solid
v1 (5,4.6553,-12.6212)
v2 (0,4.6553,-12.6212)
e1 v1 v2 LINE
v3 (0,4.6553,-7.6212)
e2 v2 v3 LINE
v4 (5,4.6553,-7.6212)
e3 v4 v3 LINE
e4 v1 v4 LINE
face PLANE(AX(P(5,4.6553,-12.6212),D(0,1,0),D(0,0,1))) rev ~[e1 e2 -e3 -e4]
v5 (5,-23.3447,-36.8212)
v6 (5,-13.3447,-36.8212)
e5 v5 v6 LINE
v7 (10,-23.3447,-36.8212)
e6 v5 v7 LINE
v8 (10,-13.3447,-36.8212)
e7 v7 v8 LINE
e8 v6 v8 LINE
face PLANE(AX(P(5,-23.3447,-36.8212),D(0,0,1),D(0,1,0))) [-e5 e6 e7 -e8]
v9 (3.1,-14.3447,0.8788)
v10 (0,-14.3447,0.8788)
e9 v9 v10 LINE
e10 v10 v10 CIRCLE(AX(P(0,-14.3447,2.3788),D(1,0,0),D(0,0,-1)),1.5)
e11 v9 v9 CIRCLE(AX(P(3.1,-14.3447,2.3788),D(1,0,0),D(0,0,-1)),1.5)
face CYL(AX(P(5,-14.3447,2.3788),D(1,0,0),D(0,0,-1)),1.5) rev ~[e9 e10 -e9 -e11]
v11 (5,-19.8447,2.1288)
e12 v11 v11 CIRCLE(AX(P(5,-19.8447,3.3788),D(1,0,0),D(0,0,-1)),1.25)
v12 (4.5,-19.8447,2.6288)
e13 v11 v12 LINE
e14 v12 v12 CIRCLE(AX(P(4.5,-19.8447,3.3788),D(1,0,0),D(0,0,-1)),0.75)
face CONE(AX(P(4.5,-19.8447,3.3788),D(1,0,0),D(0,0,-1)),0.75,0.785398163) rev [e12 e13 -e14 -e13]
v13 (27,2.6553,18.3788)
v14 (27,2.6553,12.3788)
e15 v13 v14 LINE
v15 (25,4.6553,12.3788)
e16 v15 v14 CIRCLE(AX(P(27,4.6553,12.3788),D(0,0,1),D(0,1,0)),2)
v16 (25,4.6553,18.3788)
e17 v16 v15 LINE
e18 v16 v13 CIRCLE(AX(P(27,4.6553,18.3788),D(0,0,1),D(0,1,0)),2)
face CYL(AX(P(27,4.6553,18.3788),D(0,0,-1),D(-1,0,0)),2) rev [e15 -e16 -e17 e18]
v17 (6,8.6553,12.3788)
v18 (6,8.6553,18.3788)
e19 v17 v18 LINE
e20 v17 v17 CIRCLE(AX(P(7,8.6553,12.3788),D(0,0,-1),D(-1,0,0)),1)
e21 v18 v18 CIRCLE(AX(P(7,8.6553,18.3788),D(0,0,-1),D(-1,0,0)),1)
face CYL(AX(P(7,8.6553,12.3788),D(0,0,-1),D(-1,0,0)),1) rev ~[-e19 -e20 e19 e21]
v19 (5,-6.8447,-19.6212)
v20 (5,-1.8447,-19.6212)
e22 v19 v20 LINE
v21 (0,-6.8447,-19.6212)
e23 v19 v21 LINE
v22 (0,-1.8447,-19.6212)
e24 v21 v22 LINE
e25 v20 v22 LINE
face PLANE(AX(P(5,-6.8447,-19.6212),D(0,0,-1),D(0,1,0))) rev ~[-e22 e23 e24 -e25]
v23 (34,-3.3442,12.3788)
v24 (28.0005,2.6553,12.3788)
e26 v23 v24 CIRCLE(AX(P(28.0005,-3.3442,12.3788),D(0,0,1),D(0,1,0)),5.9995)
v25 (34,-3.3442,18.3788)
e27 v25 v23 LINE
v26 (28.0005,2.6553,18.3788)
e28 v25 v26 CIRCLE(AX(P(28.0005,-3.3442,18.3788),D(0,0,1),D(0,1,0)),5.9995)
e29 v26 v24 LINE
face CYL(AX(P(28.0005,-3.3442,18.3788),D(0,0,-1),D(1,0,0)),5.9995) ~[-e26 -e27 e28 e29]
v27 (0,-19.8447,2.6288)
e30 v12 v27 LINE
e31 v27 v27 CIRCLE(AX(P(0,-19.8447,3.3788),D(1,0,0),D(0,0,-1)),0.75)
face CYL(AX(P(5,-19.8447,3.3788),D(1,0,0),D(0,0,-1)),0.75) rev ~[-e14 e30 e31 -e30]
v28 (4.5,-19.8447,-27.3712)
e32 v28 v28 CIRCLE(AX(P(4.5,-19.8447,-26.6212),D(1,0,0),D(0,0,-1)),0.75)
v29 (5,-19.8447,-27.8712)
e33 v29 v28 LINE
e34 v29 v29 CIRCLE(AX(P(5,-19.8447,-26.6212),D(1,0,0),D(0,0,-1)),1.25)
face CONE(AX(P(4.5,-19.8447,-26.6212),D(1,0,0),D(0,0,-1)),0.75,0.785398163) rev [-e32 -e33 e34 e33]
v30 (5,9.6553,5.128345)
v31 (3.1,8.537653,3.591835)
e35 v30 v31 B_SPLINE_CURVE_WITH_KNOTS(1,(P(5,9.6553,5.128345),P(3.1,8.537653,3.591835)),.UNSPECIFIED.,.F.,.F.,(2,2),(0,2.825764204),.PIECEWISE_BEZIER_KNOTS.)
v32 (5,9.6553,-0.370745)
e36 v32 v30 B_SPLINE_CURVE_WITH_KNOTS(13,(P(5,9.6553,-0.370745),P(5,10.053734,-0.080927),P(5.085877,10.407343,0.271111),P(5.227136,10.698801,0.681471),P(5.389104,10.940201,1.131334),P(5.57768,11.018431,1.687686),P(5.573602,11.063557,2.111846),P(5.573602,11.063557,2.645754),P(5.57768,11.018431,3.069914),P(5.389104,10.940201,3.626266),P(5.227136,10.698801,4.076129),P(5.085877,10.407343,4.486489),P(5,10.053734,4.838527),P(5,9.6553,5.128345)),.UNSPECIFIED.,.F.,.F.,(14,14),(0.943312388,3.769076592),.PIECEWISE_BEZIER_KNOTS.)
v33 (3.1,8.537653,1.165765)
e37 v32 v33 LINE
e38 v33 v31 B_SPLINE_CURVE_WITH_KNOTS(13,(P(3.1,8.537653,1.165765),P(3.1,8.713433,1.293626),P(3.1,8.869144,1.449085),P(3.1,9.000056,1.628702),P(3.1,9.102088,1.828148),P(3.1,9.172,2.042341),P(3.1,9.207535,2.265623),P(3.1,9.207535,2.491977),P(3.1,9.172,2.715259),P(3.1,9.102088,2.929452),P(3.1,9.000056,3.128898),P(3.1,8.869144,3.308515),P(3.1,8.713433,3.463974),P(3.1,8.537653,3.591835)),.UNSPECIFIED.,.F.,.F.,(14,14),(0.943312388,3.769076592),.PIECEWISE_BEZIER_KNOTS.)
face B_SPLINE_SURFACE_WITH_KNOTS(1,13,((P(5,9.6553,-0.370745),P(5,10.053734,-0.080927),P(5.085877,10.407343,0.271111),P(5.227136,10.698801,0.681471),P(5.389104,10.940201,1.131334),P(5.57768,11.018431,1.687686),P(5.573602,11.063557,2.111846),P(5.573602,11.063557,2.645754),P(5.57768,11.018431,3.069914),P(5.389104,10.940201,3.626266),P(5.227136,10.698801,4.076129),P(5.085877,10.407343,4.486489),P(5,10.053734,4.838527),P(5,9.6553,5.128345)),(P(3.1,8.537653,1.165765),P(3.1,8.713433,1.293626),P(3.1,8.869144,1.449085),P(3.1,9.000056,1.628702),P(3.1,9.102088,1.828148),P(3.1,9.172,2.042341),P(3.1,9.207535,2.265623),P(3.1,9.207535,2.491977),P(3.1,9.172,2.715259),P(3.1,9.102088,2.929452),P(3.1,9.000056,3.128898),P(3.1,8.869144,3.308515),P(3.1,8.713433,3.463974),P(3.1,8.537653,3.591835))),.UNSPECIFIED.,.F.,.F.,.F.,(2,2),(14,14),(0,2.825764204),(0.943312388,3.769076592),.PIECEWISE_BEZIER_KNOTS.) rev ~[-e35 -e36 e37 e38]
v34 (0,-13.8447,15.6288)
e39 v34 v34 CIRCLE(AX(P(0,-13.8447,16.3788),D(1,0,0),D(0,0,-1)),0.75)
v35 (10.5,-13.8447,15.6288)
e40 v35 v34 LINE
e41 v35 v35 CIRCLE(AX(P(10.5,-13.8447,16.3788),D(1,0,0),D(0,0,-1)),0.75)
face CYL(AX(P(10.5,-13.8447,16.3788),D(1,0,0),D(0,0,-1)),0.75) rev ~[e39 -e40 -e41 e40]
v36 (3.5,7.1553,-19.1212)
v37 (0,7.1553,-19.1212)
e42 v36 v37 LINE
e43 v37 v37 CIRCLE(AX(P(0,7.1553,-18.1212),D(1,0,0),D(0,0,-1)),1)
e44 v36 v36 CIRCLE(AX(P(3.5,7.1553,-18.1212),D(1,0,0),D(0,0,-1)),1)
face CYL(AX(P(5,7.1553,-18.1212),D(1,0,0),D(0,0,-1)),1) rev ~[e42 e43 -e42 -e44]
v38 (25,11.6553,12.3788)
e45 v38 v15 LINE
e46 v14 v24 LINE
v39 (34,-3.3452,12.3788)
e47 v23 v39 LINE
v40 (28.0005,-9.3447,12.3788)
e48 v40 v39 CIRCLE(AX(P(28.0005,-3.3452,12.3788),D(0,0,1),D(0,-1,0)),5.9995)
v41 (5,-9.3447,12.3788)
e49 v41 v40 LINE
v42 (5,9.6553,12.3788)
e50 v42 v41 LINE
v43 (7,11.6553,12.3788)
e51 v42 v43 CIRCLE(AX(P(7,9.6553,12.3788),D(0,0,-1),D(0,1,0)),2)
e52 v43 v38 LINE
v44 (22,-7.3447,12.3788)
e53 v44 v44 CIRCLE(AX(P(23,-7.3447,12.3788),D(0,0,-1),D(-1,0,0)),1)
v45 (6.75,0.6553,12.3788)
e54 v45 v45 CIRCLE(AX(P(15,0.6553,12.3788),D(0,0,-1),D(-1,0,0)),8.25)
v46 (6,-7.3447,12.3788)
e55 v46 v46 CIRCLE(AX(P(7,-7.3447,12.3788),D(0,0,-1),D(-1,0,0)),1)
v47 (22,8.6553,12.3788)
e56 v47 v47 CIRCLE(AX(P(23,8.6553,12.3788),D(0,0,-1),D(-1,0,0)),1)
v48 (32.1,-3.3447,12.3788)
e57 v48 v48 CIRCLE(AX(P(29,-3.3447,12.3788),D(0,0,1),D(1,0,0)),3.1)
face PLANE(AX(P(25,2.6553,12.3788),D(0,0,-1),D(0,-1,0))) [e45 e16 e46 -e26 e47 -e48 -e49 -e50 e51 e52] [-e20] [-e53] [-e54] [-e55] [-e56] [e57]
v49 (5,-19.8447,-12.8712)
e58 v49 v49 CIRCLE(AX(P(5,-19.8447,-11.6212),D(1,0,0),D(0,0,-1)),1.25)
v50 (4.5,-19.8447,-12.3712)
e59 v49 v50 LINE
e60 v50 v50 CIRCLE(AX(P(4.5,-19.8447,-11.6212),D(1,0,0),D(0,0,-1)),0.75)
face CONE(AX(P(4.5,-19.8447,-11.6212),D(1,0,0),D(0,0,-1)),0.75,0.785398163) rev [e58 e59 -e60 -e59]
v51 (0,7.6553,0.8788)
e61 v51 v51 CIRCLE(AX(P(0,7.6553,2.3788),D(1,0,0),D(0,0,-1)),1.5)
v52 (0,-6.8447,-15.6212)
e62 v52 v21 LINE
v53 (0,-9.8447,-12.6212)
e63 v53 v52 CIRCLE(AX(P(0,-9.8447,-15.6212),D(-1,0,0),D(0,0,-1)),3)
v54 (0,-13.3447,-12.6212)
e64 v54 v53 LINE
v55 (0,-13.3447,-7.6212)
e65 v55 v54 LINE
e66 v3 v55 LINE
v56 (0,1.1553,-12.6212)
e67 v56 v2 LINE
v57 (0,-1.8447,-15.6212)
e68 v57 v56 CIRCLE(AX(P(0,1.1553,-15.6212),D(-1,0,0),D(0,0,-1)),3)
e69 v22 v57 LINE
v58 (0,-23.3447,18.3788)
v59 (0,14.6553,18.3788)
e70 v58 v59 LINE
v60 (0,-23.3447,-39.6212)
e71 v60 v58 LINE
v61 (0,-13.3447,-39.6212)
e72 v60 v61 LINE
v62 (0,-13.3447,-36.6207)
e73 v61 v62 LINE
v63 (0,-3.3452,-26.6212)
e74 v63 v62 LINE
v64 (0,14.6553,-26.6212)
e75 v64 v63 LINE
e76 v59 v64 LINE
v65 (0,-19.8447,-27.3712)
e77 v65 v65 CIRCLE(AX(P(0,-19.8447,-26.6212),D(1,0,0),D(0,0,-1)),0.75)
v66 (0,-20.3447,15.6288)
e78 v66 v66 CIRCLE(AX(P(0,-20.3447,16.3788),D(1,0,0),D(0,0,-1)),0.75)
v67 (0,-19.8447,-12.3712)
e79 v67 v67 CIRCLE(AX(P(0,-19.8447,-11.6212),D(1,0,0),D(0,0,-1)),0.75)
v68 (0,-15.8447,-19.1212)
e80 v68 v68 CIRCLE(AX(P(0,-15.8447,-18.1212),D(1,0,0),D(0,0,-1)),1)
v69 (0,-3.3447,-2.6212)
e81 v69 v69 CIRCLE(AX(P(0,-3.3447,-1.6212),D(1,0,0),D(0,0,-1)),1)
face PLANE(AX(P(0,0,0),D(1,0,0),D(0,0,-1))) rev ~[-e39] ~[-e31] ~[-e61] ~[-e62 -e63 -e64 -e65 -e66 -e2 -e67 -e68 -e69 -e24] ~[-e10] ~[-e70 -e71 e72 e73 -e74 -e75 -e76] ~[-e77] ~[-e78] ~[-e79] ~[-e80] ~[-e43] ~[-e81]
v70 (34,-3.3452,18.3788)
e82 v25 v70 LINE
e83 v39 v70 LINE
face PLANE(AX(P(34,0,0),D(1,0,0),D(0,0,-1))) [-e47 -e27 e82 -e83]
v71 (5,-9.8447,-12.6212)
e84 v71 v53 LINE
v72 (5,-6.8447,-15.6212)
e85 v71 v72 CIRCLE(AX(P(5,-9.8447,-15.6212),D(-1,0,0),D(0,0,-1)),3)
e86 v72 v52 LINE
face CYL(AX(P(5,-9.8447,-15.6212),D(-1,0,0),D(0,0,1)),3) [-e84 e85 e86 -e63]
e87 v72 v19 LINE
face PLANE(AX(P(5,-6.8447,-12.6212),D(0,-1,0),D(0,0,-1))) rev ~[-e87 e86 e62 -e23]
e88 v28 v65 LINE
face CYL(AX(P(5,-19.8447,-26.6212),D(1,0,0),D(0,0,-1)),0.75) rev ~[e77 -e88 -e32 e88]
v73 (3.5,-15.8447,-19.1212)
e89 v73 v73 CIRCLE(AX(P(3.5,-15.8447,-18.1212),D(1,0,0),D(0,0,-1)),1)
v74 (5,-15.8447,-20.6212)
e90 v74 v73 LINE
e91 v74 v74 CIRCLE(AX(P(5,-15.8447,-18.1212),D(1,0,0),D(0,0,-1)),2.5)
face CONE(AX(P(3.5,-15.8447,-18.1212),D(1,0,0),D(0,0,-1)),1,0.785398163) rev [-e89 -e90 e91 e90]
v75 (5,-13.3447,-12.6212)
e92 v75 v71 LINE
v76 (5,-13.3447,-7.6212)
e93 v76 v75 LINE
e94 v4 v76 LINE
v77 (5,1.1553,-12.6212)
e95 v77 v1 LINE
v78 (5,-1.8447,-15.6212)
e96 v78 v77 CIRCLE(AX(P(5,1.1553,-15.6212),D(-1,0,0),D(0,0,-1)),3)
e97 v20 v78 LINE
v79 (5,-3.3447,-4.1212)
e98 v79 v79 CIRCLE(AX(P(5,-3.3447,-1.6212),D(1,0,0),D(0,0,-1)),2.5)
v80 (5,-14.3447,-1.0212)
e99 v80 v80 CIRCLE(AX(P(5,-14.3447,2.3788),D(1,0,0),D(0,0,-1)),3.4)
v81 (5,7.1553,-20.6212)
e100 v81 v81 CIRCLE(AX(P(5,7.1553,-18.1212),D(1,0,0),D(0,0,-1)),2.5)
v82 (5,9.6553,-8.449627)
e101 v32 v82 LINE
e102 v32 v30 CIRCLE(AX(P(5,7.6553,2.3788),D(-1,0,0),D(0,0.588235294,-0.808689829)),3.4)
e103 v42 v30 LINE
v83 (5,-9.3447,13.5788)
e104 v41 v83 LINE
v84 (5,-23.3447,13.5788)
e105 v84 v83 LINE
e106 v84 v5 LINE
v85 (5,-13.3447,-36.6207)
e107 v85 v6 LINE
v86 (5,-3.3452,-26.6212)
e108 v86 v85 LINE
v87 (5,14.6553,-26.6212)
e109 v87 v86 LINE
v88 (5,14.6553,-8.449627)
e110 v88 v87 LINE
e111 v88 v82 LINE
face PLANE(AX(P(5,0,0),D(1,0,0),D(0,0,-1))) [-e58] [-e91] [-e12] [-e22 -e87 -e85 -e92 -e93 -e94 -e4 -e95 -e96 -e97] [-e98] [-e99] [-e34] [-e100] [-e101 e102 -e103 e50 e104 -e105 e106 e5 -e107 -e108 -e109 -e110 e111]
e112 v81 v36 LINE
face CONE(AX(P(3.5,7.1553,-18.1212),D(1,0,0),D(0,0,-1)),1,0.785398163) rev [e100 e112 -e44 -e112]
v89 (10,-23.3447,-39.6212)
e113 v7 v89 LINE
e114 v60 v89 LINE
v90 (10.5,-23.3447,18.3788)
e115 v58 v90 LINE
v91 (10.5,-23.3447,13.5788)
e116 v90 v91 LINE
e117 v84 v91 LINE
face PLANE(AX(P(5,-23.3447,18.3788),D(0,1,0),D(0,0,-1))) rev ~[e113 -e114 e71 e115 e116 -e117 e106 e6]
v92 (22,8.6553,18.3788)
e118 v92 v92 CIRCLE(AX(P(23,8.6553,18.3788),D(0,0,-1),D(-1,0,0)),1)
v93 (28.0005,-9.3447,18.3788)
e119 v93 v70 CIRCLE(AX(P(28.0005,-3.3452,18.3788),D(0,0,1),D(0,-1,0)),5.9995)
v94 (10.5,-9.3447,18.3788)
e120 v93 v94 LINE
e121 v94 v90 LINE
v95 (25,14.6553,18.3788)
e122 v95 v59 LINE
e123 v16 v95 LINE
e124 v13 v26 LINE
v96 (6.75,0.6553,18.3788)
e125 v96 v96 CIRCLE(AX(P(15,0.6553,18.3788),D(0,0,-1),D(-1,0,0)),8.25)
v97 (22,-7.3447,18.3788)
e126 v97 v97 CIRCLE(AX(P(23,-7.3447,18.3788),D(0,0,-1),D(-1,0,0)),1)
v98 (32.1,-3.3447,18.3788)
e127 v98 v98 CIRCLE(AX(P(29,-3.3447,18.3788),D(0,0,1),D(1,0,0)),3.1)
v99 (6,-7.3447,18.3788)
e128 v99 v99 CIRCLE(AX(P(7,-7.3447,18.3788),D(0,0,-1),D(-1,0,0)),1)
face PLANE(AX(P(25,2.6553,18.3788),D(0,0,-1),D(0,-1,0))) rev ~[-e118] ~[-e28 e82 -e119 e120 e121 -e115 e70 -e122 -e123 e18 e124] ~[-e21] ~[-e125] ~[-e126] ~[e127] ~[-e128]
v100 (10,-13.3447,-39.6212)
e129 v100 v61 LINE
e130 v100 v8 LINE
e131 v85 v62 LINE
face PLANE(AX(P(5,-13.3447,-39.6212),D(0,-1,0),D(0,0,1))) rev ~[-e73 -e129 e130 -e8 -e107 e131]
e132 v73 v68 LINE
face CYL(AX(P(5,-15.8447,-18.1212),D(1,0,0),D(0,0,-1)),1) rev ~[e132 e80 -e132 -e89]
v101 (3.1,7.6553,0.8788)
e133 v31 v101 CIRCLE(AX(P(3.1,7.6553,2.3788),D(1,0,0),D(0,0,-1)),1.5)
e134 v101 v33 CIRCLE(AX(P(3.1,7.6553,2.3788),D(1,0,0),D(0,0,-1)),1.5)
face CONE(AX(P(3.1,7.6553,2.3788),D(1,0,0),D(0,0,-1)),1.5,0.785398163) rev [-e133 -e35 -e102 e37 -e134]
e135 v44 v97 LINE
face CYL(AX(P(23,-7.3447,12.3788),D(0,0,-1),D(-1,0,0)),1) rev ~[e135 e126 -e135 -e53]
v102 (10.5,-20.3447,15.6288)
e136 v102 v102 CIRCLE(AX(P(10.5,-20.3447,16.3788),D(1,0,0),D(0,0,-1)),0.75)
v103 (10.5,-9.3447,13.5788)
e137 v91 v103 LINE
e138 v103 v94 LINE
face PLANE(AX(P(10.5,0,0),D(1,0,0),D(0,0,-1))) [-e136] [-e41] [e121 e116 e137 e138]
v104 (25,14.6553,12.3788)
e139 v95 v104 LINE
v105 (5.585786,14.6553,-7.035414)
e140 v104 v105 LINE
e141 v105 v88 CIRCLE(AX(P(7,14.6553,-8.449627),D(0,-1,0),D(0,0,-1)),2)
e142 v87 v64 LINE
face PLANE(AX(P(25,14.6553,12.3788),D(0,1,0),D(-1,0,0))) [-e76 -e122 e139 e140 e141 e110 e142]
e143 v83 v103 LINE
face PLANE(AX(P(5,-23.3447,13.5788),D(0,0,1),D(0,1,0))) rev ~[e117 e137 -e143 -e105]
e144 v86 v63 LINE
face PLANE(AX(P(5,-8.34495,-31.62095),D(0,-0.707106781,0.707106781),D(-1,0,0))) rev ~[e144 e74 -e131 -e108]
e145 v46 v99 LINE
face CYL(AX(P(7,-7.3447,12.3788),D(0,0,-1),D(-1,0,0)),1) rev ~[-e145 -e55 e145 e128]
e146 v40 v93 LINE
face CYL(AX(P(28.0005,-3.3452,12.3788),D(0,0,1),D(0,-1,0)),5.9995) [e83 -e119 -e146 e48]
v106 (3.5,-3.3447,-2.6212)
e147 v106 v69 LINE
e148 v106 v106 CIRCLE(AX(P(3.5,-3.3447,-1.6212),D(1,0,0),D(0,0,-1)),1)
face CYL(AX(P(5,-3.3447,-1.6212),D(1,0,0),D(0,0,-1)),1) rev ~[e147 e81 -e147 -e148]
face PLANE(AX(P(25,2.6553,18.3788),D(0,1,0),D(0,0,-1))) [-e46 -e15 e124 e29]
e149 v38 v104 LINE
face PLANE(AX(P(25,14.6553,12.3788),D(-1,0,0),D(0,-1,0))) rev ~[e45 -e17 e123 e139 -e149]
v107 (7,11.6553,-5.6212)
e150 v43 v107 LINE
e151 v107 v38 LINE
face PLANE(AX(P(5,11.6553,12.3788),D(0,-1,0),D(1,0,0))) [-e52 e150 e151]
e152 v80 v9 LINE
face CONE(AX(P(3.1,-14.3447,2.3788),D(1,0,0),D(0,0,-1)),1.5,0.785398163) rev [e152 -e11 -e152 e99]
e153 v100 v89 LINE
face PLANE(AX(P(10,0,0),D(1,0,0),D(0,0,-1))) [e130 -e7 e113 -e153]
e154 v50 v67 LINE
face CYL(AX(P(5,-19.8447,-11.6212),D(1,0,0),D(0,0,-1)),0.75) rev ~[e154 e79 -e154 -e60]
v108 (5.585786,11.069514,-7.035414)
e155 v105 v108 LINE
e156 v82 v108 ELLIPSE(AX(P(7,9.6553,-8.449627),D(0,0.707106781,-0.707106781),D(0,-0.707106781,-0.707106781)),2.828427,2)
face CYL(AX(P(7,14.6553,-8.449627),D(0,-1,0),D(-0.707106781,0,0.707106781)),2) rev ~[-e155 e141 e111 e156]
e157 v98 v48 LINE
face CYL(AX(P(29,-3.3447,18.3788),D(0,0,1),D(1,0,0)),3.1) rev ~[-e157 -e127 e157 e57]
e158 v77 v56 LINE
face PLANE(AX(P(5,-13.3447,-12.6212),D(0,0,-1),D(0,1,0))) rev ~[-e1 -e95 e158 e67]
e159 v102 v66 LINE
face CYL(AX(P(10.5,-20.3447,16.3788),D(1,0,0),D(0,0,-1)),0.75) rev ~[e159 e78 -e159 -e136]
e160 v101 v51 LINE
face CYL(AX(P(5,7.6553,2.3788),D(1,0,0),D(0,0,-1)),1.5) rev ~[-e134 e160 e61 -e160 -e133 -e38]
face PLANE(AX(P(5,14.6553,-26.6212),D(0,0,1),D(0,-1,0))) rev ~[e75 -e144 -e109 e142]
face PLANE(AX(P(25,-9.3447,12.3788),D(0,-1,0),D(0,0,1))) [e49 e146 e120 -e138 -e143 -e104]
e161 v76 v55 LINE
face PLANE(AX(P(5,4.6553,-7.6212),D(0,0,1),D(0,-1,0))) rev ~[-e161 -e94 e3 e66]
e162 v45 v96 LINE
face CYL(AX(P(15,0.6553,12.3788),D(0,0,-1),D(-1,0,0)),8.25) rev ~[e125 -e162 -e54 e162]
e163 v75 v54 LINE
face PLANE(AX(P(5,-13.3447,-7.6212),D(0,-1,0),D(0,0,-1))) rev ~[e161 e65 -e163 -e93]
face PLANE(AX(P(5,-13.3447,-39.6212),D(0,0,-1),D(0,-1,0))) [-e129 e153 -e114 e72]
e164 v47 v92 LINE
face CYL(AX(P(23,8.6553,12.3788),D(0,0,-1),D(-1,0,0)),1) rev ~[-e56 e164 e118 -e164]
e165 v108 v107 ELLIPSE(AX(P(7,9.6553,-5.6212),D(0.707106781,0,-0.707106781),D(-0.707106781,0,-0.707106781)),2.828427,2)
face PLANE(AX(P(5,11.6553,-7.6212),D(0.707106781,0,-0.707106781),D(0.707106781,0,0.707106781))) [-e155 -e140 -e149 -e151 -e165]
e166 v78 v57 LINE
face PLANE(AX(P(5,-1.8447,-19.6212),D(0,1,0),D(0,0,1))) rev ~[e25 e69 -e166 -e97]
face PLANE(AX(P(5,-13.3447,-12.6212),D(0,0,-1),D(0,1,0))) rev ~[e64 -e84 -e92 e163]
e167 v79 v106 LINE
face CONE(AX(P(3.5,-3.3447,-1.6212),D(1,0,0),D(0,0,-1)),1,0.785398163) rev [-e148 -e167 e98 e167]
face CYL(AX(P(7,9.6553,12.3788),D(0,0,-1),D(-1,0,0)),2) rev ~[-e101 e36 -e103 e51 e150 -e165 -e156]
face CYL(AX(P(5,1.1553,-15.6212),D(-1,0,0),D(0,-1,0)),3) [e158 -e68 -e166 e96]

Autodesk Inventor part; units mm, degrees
ref_plane "YZ Plane" through (0, 0, 0) normal (1, 0, 0) x (0, 1, 0)
ref_plane "XZ Plane" through (0, 0, 0) normal (0, 1, 0) x (-1, 0, 0)
ref_plane "XY Plane" through (0, 0, 0) normal (0, 0, 1) x (1, 0, 0)
sketch "Sketch1" plane through (0, 0, 0) normal (1, 0, 0) x (0, 1, 0)
  line L0 (-23.3447, 18.3788) -> (14.6553, 18.3788)
  line L1 (14.6553, 18.3788) -> (14.6553, -36.6212)
  line L2 (14.6553, -36.6212) -> (-23.3447, -36.6212)
  line L3 (-23.3447, -36.6212) -> (-23.3447, 18.3788)
  point P0 (0, 0)
  dimension "d0" = 38
  dimension "d1" = 55
extrude "Extrusion1" add sketch "Sketch1" along normal blind 5
sketch "Sketch2" plane through (5, 0, 0) normal (1, 0, 0) x (0, 0, -1)
  line L0 (36.6212, 14.6553) -> (-18.3788, 14.6553) projected
  line L1 (-18.3788, 14.6553) -> (-12.3788, 14.6553)
  line L2 (-12.3788, 14.6553) -> (-12.3788, -9.3447)
  line L3 (-12.3788, -9.3447) -> (-18.3788, -9.3447)
  line L4 (-18.3788, -9.3447) -> (-18.3788, 14.6553)
  point P0 (0, 0)
  dimension "d4" = 24
  dimension "d5" = 6
extrude "Extrusion2" add sketch "Sketch2" along normal blind 20
sketch "Sketch3" plane through (5, -9.3447, 12.3788) normal (0, 0, -1) x (-1, 0, 0)
  circle A0 centre (-10, 10) radius 8.25
  line L0 (-20, 0) -> (-20, 24) projected
  line L1 (0, 0) -> (-20, 0) projected
  circle A1 centre (-18, 2) radius 1
  circle A2 centre (-18, 18) radius 1
  circle A3 centre (-2, 2) radius 1
  circle A4 centre (-2, 18) radius 1
  point P0 (5, 9.3447)
  dimension "d8" = 16.5
  dimension "d9" = 10
  dimension "d10" = 10
  dimension "d11" = 2
  dimension "d12" = 2
  dimension "d13" = 2
  dimension "d14" = 2
  dimension "d15" = 8
  dimension "d16" = 8
  dimension "d17" = 8
  dimension "d18" = 8
  dimension "d19" = 8
  dimension "d20" = 8
  dimension "d21" = 8
  dimension "d22" = 8
extrude "Extrusion3" cut sketch "Sketch3" against normal through all
sketch "Sketch4" plane through (5, -9.3447, 12.3788) normal (0, 0, -1) x (-1, 0, 0)
  line L0 (-20, 24) -> (-20, 0) projected
  line L1 (0, 24) -> (0, 0) projected
  line L2 (-20, 24) -> (0, 24)
  line L3 (0, 24) -> (0, 21)
  line L4 (0, 21) -> (-20, 21)
  line L5 (-20, 21) -> (-20, 24)
  point P0 (5, 9.3447)
  dimension "d25" = 3
extrude "Extrusion4" add sketch "Sketch4" along normal blind 20
sketch "Sketch5" plane through (5, 11.6553, 12.3788) normal (0, -1, 0) x (1, 0, 0)
  line L0 (0, -20) -> (0, 0) projected
  line L1 (20, 6) -> (20, 0) projected
  line L2 (0, -20) -> (20, 0)
  line L3 (20, 0) -> (20, -20)
  line L4 (20, -20) -> (0, -20) projected
  line L5 (20, -20) -> (0, -20)
  point P0 (-5, -12.3788)
extrude "Extrusion5" cut sketch "Sketch5" against normal through all
fillet "Fillet1" radius 2 2 edges at (5, 11.6553, 2.3788) (5, 13.1553, -7.6212)
sketch "Sketch6" plane through (5, 0, 0) normal (1, 0, 0) x (0, 0, -1)
  circle A0 centre (1.6212, -3.3447) radius 1
  line L0 (36.6212, 14.6553) -> (8.4496, 14.6553) projected
  line L1 (36.6212, -23.3447) -> (36.6212, 14.6553) projected
  point P0 (0, 0)
  dimension "d31" = 2
  dimension "d32" = 18
  dimension "d33" = 35
extrude "Extrusion6" cut sketch "Sketch6" against normal through all
sketch "Sketch7" plane through (5, 0, 0) normal (1, 0, 0) x (0, 0, -1)
  circle A0 centre (-2.3788, -14.3447) radius 1.5
  circle A1 centre (-2.3788, 7.6553) radius 1.5
  circle A2 centre (1.6212, -3.3447) radius 1 projected
  point P0 (0, 0)
  dimension "d36" = 3
  dimension "d37" = 3
  dimension "d38" = 4
  dimension "d39" = 11
  dimension "d40" = 11
  dimension "d41" = 4
extrude "Extrusion7" cut sketch "Sketch7" against normal through all contours A0 | A1
chamfer "Chamfer1" distance 1.5 angle 45 1 edges at (5, -3.3447, -0.6212)
chamfer "Chamfer2" distance 1.9 angle 45 2 edges at (5, -14.3447, 3.8788) (5, 7.6553, 3.8788)
sketch "Sketch8" plane through (5, 0, 0) normal (1, 0, 0) x (0, 0, -1)
  line L0 (36.6212, 14.6553) -> (-18.3788, 14.6553) projected
  line L1 (36.6212, 14.6553) -> (26.6212, 14.6553)
  line L2 (26.6212, 14.6553) -> (26.6212, -13.3447)
  line L3 (26.6212, -13.3447) -> (36.6212, -13.3447)
  line L4 (36.6212, -13.3447) -> (36.6212, 14.6553)
  point P0 (0, 0)
  dimension "d50" = 28
  dimension "d51" = 10
extrude "Extrusion8" cut sketch "Sketch8" against normal through all
chamfer "Chamfer3" distance 10 angle 45 1 edges at (2.5, -13.3447, -26.6212)
sketch "Sketch9" plane through (5, 0, 0) normal (1, 0, 0) x (0, 0, -1)
  circle A0 centre (18.1212, -15.8447) radius 1
  circle A1 centre (18.1212, 7.1553) radius 1
  line L0 (26.6212, 14.6553) -> (8.4496, 14.6553) projected
  line L1 (36.6212, -23.3447) -> (36.6212, -13.3447) projected
  line L2 (-18.3788, -23.3447) -> (36.6212, -23.3447) projected
  point P0 (0, 0)
  dimension "d57" = 2
  dimension "d58" = 2
  dimension "d59" = 7.5
  dimension "d60" = 18.5
  dimension "d61" = 7.5
  dimension "d62" = 18.5
extrude "Extrusion9" cut sketch "Sketch9" against normal through all
chamfer "Chamfer4" distance 1.5 angle 45 2 edges at (5, -15.8447, -17.1212) (5, 7.1553, -17.1212)
sketch "Sketch10" plane through (5, 0, 0) normal (1, 0, 0) x (0, 0, -1)
  circle A0 centre (26.6212, -19.8447) radius 0.75
  circle A1 centre (11.6212, -19.8447) radius 0.75
  circle A2 centre (-3.3788, -19.8447) radius 0.75
  line L0 (-18.3788, -23.3447) -> (36.6212, -23.3447) projected
  line L1 (36.6212, -23.3447) -> (36.6212, -13.3447) projected
  line L2 (-18.3788, -9.3447) -> (-18.3788, -23.3447) projected
  point P0 (0, 0)
  dimension "d68" = 1.5
  dimension "d69" = 1.5
  dimension "d70" = 1.5
  dimension "d71" = 3.5
  dimension "d72" = 10
  dimension "d73" = 3.5
  dimension "d74" = 15
  dimension "d76" = 3.5
  dimension "d95" = 15
extrude "Extrusion10" cut sketch "Sketch10" against normal through all
sketch "Sketch15" plane through (5, 0, 0) normal (1, 0, 0) x (0, 0, -1)
  line L0 (36.6212, -23.3447) -> (36.6212, -13.3447) projected
  line L1 (36.6212, -23.3447) -> (39.6212, -23.3447)
  line L2 (39.6212, -23.3447) -> (39.6212, -13.3447)
  line L3 (39.6212, -13.3447) -> (36.6212, -13.3447)
  line L4 (36.6212, -13.3447) -> (36.6212, -23.3447)
  point P0 (0, 0)
  dimension "d96" = 3
  dimension "d97" = 10
extrude "Extrusion15" add sketch "Sketch15" against normal up to surface (5 mm away)
sketch "Sketch16" plane through (5, 0, 0) normal (1, 0, 0) x (0, 0, -1)
  line L0 (-18.3788, -23.3447) -> (39.6212, -23.3447) projected
  line L1 (39.6212, -13.3447) -> (36.6212, -13.3447) projected
  line L2 (39.6212, -23.3447) -> (36.8212, -23.3447)
  line L3 (36.8212, -23.3447) -> (36.8212, -13.3447)
  line L4 (36.8212, -13.3447) -> (39.6212, -13.3447)
  line L5 (39.6212, -13.3447) -> (39.6212, -23.3447)
  point P0 (0, 0)
  dimension "d100" = 2.8
extrude "Extrusion16" add sketch "Sketch16" along normal blind 5
sketch "Sketch17" plane through (5, 0, 0) normal (1, 0, 0) x (0, 0, -1)
  line L0 (-18.3788, -23.3447) -> (39.6212, -23.3447) projected
  line L1 (-12.3788, -9.3447) -> (-18.3788, -9.3447) projected
  line L2 (-18.3788, -23.3447) -> (-13.5788, -23.3447)
  line L3 (-13.5788, -23.3447) -> (-13.5788, -9.3447)
  line L4 (-13.5788, -9.3447) -> (-18.3788, -9.3447)
  line L5 (-18.3788, -9.3447) -> (-18.3788, -23.3447)
  point P0 (0, 0)
  dimension "d103" = 4.8
extrude "Extrusion17" add sketch "Sketch17" along normal blind 5.5
sketch "Sketch18" plane through (10.5, 0, 0) normal (1, 0, 0) x (0, 0, -1)
  circle A0 centre (-16.3788, -20.3447) radius 0.75
  circle A1 centre (-16.3788, -13.8447) radius 0.75
  line L0 (-18.3788, -23.3447) -> (-13.5788, -23.3447) projected
  line L1 (-18.3788, -9.3447) -> (-18.3788, -23.3447) projected
  point P0 (0, 0)
  point P1 (-15.9788, -23.3447)
  dimension "d106" = 1.5
  dimension "d107" = 1.5
  dimension "d108" = 6.5
  dimension "d109" = 3
  dimension "d110" = 2
  dimension "d111" = 2
extrude "Extrusion18" cut sketch "Sketch18" against normal through all
sketch "Sketch19" plane through (5, 0, 0) normal (1, 0, 0) x (0, 0, -1)
  line L0 (7.6212, -13.3447) -> (12.6212, -13.3447)
  line L1 (12.6212, -13.3447) -> (12.6212, 4.6553)
  line L2 (12.6212, 4.6553) -> (7.6212, 4.6553)
  line L3 (7.6212, 4.6553) -> (7.6212, -13.3447)
  line L4 (26.6212, 14.6553) -> (8.4496, 14.6553) projected
  line L5 (-13.5788, -23.3447) -> (36.8212, -23.3447) projected
  line L6 (26.6212, -3.3447) -> (26.6212, 14.6553) projected
  point P0 (0, 0)
  dimension "d114" = 5
  dimension "d115" = 10
  dimension "d116" = 10
  dimension "d117" = 14
extrude "Extrusion19" cut sketch "Sketch19" against normal through all
chamfer "Chamfer5" distance 0.5 angle 45 3 edges at (5, -19.8447, 4.1288) (5, -19.8447, -10.8712) (5, -19.8447, -25.8712)
sketch "Sketch20" plane through (25, 0, 0) normal (1, 0, 0) x (0, 0, -1)
  line L0 (-12.3788, -9.3447) -> (-13.5788, -9.3447) projected
  line L1 (-18.3788, 14.6553) -> (-18.3788, -9.3447) projected
  line L2 (-12.3788, -9.3447) -> (-18.3788, -9.3447)
  line L3 (-18.3788, -9.3447) -> (-18.3788, 2.6553)
  line L4 (-18.3788, 2.6553) -> (-12.3788, 2.6553)
  line L5 (-12.3788, 2.6553) -> (-12.3788, -9.3447)
  point P0 (0, 0)
  dimension "d123" = 12
extrude "Extrusion20" add sketch "Sketch20" along normal blind 9
sketch "Sketch21" plane through (0, -23.3447, 18.3788) normal (0, 0, 1) x (1, 0, 0)
  circle A0 centre (29, 20) radius 3.1
  line L0 (25, 26) -> (34, 26) projected
  line L1 (34, 26) -> (34, 14) projected
  point P0 (0, 23.3447)
  dimension "d126" = 6.2
  dimension "d127" = 6
  dimension "d128" = 5
extrude "Extrusion21" cut sketch "Sketch21" against normal through all
fillet "Fillet3" radius 6 2 edges at (34, -9.3447, 15.3788) (34, 2.6553, 15.3788)
sketch "Sketch22" plane through (5, 0, 0) normal (1, 0, 0) x (0, 0, -1)
  line L0 (12.6212, -13.3447) -> (12.6212, 4.6553) projected
  line L1 (12.6212, -6.8447) -> (19.6212, -6.8447)
  line L2 (19.6212, -6.8447) -> (19.6212, -1.8447)
  line L3 (19.6212, -1.8447) -> (12.6212, -1.8447)
  line L4 (12.6212, -1.8447) -> (12.6212, -6.8447)
  line L5 (7.6212, 4.6553) -> (12.6212, 4.6553) projected
  point P0 (0, 0)
  dimension "d134" = 5
  dimension "d135" = 6.5
  dimension "d136" = 7
extrude "Extrusion22" cut sketch "Sketch22" against normal through all
fillet "Fillet5" radius 3 2 edges at (2.5, -6.8447, -12.6212) (2.5, -1.8447, -12.6212)
fillet "Fillet6" radius 2 1 edges at (25, 2.6553, 15.3788)
properties part number "Z_motor_holder" material "ABS Plastic"
